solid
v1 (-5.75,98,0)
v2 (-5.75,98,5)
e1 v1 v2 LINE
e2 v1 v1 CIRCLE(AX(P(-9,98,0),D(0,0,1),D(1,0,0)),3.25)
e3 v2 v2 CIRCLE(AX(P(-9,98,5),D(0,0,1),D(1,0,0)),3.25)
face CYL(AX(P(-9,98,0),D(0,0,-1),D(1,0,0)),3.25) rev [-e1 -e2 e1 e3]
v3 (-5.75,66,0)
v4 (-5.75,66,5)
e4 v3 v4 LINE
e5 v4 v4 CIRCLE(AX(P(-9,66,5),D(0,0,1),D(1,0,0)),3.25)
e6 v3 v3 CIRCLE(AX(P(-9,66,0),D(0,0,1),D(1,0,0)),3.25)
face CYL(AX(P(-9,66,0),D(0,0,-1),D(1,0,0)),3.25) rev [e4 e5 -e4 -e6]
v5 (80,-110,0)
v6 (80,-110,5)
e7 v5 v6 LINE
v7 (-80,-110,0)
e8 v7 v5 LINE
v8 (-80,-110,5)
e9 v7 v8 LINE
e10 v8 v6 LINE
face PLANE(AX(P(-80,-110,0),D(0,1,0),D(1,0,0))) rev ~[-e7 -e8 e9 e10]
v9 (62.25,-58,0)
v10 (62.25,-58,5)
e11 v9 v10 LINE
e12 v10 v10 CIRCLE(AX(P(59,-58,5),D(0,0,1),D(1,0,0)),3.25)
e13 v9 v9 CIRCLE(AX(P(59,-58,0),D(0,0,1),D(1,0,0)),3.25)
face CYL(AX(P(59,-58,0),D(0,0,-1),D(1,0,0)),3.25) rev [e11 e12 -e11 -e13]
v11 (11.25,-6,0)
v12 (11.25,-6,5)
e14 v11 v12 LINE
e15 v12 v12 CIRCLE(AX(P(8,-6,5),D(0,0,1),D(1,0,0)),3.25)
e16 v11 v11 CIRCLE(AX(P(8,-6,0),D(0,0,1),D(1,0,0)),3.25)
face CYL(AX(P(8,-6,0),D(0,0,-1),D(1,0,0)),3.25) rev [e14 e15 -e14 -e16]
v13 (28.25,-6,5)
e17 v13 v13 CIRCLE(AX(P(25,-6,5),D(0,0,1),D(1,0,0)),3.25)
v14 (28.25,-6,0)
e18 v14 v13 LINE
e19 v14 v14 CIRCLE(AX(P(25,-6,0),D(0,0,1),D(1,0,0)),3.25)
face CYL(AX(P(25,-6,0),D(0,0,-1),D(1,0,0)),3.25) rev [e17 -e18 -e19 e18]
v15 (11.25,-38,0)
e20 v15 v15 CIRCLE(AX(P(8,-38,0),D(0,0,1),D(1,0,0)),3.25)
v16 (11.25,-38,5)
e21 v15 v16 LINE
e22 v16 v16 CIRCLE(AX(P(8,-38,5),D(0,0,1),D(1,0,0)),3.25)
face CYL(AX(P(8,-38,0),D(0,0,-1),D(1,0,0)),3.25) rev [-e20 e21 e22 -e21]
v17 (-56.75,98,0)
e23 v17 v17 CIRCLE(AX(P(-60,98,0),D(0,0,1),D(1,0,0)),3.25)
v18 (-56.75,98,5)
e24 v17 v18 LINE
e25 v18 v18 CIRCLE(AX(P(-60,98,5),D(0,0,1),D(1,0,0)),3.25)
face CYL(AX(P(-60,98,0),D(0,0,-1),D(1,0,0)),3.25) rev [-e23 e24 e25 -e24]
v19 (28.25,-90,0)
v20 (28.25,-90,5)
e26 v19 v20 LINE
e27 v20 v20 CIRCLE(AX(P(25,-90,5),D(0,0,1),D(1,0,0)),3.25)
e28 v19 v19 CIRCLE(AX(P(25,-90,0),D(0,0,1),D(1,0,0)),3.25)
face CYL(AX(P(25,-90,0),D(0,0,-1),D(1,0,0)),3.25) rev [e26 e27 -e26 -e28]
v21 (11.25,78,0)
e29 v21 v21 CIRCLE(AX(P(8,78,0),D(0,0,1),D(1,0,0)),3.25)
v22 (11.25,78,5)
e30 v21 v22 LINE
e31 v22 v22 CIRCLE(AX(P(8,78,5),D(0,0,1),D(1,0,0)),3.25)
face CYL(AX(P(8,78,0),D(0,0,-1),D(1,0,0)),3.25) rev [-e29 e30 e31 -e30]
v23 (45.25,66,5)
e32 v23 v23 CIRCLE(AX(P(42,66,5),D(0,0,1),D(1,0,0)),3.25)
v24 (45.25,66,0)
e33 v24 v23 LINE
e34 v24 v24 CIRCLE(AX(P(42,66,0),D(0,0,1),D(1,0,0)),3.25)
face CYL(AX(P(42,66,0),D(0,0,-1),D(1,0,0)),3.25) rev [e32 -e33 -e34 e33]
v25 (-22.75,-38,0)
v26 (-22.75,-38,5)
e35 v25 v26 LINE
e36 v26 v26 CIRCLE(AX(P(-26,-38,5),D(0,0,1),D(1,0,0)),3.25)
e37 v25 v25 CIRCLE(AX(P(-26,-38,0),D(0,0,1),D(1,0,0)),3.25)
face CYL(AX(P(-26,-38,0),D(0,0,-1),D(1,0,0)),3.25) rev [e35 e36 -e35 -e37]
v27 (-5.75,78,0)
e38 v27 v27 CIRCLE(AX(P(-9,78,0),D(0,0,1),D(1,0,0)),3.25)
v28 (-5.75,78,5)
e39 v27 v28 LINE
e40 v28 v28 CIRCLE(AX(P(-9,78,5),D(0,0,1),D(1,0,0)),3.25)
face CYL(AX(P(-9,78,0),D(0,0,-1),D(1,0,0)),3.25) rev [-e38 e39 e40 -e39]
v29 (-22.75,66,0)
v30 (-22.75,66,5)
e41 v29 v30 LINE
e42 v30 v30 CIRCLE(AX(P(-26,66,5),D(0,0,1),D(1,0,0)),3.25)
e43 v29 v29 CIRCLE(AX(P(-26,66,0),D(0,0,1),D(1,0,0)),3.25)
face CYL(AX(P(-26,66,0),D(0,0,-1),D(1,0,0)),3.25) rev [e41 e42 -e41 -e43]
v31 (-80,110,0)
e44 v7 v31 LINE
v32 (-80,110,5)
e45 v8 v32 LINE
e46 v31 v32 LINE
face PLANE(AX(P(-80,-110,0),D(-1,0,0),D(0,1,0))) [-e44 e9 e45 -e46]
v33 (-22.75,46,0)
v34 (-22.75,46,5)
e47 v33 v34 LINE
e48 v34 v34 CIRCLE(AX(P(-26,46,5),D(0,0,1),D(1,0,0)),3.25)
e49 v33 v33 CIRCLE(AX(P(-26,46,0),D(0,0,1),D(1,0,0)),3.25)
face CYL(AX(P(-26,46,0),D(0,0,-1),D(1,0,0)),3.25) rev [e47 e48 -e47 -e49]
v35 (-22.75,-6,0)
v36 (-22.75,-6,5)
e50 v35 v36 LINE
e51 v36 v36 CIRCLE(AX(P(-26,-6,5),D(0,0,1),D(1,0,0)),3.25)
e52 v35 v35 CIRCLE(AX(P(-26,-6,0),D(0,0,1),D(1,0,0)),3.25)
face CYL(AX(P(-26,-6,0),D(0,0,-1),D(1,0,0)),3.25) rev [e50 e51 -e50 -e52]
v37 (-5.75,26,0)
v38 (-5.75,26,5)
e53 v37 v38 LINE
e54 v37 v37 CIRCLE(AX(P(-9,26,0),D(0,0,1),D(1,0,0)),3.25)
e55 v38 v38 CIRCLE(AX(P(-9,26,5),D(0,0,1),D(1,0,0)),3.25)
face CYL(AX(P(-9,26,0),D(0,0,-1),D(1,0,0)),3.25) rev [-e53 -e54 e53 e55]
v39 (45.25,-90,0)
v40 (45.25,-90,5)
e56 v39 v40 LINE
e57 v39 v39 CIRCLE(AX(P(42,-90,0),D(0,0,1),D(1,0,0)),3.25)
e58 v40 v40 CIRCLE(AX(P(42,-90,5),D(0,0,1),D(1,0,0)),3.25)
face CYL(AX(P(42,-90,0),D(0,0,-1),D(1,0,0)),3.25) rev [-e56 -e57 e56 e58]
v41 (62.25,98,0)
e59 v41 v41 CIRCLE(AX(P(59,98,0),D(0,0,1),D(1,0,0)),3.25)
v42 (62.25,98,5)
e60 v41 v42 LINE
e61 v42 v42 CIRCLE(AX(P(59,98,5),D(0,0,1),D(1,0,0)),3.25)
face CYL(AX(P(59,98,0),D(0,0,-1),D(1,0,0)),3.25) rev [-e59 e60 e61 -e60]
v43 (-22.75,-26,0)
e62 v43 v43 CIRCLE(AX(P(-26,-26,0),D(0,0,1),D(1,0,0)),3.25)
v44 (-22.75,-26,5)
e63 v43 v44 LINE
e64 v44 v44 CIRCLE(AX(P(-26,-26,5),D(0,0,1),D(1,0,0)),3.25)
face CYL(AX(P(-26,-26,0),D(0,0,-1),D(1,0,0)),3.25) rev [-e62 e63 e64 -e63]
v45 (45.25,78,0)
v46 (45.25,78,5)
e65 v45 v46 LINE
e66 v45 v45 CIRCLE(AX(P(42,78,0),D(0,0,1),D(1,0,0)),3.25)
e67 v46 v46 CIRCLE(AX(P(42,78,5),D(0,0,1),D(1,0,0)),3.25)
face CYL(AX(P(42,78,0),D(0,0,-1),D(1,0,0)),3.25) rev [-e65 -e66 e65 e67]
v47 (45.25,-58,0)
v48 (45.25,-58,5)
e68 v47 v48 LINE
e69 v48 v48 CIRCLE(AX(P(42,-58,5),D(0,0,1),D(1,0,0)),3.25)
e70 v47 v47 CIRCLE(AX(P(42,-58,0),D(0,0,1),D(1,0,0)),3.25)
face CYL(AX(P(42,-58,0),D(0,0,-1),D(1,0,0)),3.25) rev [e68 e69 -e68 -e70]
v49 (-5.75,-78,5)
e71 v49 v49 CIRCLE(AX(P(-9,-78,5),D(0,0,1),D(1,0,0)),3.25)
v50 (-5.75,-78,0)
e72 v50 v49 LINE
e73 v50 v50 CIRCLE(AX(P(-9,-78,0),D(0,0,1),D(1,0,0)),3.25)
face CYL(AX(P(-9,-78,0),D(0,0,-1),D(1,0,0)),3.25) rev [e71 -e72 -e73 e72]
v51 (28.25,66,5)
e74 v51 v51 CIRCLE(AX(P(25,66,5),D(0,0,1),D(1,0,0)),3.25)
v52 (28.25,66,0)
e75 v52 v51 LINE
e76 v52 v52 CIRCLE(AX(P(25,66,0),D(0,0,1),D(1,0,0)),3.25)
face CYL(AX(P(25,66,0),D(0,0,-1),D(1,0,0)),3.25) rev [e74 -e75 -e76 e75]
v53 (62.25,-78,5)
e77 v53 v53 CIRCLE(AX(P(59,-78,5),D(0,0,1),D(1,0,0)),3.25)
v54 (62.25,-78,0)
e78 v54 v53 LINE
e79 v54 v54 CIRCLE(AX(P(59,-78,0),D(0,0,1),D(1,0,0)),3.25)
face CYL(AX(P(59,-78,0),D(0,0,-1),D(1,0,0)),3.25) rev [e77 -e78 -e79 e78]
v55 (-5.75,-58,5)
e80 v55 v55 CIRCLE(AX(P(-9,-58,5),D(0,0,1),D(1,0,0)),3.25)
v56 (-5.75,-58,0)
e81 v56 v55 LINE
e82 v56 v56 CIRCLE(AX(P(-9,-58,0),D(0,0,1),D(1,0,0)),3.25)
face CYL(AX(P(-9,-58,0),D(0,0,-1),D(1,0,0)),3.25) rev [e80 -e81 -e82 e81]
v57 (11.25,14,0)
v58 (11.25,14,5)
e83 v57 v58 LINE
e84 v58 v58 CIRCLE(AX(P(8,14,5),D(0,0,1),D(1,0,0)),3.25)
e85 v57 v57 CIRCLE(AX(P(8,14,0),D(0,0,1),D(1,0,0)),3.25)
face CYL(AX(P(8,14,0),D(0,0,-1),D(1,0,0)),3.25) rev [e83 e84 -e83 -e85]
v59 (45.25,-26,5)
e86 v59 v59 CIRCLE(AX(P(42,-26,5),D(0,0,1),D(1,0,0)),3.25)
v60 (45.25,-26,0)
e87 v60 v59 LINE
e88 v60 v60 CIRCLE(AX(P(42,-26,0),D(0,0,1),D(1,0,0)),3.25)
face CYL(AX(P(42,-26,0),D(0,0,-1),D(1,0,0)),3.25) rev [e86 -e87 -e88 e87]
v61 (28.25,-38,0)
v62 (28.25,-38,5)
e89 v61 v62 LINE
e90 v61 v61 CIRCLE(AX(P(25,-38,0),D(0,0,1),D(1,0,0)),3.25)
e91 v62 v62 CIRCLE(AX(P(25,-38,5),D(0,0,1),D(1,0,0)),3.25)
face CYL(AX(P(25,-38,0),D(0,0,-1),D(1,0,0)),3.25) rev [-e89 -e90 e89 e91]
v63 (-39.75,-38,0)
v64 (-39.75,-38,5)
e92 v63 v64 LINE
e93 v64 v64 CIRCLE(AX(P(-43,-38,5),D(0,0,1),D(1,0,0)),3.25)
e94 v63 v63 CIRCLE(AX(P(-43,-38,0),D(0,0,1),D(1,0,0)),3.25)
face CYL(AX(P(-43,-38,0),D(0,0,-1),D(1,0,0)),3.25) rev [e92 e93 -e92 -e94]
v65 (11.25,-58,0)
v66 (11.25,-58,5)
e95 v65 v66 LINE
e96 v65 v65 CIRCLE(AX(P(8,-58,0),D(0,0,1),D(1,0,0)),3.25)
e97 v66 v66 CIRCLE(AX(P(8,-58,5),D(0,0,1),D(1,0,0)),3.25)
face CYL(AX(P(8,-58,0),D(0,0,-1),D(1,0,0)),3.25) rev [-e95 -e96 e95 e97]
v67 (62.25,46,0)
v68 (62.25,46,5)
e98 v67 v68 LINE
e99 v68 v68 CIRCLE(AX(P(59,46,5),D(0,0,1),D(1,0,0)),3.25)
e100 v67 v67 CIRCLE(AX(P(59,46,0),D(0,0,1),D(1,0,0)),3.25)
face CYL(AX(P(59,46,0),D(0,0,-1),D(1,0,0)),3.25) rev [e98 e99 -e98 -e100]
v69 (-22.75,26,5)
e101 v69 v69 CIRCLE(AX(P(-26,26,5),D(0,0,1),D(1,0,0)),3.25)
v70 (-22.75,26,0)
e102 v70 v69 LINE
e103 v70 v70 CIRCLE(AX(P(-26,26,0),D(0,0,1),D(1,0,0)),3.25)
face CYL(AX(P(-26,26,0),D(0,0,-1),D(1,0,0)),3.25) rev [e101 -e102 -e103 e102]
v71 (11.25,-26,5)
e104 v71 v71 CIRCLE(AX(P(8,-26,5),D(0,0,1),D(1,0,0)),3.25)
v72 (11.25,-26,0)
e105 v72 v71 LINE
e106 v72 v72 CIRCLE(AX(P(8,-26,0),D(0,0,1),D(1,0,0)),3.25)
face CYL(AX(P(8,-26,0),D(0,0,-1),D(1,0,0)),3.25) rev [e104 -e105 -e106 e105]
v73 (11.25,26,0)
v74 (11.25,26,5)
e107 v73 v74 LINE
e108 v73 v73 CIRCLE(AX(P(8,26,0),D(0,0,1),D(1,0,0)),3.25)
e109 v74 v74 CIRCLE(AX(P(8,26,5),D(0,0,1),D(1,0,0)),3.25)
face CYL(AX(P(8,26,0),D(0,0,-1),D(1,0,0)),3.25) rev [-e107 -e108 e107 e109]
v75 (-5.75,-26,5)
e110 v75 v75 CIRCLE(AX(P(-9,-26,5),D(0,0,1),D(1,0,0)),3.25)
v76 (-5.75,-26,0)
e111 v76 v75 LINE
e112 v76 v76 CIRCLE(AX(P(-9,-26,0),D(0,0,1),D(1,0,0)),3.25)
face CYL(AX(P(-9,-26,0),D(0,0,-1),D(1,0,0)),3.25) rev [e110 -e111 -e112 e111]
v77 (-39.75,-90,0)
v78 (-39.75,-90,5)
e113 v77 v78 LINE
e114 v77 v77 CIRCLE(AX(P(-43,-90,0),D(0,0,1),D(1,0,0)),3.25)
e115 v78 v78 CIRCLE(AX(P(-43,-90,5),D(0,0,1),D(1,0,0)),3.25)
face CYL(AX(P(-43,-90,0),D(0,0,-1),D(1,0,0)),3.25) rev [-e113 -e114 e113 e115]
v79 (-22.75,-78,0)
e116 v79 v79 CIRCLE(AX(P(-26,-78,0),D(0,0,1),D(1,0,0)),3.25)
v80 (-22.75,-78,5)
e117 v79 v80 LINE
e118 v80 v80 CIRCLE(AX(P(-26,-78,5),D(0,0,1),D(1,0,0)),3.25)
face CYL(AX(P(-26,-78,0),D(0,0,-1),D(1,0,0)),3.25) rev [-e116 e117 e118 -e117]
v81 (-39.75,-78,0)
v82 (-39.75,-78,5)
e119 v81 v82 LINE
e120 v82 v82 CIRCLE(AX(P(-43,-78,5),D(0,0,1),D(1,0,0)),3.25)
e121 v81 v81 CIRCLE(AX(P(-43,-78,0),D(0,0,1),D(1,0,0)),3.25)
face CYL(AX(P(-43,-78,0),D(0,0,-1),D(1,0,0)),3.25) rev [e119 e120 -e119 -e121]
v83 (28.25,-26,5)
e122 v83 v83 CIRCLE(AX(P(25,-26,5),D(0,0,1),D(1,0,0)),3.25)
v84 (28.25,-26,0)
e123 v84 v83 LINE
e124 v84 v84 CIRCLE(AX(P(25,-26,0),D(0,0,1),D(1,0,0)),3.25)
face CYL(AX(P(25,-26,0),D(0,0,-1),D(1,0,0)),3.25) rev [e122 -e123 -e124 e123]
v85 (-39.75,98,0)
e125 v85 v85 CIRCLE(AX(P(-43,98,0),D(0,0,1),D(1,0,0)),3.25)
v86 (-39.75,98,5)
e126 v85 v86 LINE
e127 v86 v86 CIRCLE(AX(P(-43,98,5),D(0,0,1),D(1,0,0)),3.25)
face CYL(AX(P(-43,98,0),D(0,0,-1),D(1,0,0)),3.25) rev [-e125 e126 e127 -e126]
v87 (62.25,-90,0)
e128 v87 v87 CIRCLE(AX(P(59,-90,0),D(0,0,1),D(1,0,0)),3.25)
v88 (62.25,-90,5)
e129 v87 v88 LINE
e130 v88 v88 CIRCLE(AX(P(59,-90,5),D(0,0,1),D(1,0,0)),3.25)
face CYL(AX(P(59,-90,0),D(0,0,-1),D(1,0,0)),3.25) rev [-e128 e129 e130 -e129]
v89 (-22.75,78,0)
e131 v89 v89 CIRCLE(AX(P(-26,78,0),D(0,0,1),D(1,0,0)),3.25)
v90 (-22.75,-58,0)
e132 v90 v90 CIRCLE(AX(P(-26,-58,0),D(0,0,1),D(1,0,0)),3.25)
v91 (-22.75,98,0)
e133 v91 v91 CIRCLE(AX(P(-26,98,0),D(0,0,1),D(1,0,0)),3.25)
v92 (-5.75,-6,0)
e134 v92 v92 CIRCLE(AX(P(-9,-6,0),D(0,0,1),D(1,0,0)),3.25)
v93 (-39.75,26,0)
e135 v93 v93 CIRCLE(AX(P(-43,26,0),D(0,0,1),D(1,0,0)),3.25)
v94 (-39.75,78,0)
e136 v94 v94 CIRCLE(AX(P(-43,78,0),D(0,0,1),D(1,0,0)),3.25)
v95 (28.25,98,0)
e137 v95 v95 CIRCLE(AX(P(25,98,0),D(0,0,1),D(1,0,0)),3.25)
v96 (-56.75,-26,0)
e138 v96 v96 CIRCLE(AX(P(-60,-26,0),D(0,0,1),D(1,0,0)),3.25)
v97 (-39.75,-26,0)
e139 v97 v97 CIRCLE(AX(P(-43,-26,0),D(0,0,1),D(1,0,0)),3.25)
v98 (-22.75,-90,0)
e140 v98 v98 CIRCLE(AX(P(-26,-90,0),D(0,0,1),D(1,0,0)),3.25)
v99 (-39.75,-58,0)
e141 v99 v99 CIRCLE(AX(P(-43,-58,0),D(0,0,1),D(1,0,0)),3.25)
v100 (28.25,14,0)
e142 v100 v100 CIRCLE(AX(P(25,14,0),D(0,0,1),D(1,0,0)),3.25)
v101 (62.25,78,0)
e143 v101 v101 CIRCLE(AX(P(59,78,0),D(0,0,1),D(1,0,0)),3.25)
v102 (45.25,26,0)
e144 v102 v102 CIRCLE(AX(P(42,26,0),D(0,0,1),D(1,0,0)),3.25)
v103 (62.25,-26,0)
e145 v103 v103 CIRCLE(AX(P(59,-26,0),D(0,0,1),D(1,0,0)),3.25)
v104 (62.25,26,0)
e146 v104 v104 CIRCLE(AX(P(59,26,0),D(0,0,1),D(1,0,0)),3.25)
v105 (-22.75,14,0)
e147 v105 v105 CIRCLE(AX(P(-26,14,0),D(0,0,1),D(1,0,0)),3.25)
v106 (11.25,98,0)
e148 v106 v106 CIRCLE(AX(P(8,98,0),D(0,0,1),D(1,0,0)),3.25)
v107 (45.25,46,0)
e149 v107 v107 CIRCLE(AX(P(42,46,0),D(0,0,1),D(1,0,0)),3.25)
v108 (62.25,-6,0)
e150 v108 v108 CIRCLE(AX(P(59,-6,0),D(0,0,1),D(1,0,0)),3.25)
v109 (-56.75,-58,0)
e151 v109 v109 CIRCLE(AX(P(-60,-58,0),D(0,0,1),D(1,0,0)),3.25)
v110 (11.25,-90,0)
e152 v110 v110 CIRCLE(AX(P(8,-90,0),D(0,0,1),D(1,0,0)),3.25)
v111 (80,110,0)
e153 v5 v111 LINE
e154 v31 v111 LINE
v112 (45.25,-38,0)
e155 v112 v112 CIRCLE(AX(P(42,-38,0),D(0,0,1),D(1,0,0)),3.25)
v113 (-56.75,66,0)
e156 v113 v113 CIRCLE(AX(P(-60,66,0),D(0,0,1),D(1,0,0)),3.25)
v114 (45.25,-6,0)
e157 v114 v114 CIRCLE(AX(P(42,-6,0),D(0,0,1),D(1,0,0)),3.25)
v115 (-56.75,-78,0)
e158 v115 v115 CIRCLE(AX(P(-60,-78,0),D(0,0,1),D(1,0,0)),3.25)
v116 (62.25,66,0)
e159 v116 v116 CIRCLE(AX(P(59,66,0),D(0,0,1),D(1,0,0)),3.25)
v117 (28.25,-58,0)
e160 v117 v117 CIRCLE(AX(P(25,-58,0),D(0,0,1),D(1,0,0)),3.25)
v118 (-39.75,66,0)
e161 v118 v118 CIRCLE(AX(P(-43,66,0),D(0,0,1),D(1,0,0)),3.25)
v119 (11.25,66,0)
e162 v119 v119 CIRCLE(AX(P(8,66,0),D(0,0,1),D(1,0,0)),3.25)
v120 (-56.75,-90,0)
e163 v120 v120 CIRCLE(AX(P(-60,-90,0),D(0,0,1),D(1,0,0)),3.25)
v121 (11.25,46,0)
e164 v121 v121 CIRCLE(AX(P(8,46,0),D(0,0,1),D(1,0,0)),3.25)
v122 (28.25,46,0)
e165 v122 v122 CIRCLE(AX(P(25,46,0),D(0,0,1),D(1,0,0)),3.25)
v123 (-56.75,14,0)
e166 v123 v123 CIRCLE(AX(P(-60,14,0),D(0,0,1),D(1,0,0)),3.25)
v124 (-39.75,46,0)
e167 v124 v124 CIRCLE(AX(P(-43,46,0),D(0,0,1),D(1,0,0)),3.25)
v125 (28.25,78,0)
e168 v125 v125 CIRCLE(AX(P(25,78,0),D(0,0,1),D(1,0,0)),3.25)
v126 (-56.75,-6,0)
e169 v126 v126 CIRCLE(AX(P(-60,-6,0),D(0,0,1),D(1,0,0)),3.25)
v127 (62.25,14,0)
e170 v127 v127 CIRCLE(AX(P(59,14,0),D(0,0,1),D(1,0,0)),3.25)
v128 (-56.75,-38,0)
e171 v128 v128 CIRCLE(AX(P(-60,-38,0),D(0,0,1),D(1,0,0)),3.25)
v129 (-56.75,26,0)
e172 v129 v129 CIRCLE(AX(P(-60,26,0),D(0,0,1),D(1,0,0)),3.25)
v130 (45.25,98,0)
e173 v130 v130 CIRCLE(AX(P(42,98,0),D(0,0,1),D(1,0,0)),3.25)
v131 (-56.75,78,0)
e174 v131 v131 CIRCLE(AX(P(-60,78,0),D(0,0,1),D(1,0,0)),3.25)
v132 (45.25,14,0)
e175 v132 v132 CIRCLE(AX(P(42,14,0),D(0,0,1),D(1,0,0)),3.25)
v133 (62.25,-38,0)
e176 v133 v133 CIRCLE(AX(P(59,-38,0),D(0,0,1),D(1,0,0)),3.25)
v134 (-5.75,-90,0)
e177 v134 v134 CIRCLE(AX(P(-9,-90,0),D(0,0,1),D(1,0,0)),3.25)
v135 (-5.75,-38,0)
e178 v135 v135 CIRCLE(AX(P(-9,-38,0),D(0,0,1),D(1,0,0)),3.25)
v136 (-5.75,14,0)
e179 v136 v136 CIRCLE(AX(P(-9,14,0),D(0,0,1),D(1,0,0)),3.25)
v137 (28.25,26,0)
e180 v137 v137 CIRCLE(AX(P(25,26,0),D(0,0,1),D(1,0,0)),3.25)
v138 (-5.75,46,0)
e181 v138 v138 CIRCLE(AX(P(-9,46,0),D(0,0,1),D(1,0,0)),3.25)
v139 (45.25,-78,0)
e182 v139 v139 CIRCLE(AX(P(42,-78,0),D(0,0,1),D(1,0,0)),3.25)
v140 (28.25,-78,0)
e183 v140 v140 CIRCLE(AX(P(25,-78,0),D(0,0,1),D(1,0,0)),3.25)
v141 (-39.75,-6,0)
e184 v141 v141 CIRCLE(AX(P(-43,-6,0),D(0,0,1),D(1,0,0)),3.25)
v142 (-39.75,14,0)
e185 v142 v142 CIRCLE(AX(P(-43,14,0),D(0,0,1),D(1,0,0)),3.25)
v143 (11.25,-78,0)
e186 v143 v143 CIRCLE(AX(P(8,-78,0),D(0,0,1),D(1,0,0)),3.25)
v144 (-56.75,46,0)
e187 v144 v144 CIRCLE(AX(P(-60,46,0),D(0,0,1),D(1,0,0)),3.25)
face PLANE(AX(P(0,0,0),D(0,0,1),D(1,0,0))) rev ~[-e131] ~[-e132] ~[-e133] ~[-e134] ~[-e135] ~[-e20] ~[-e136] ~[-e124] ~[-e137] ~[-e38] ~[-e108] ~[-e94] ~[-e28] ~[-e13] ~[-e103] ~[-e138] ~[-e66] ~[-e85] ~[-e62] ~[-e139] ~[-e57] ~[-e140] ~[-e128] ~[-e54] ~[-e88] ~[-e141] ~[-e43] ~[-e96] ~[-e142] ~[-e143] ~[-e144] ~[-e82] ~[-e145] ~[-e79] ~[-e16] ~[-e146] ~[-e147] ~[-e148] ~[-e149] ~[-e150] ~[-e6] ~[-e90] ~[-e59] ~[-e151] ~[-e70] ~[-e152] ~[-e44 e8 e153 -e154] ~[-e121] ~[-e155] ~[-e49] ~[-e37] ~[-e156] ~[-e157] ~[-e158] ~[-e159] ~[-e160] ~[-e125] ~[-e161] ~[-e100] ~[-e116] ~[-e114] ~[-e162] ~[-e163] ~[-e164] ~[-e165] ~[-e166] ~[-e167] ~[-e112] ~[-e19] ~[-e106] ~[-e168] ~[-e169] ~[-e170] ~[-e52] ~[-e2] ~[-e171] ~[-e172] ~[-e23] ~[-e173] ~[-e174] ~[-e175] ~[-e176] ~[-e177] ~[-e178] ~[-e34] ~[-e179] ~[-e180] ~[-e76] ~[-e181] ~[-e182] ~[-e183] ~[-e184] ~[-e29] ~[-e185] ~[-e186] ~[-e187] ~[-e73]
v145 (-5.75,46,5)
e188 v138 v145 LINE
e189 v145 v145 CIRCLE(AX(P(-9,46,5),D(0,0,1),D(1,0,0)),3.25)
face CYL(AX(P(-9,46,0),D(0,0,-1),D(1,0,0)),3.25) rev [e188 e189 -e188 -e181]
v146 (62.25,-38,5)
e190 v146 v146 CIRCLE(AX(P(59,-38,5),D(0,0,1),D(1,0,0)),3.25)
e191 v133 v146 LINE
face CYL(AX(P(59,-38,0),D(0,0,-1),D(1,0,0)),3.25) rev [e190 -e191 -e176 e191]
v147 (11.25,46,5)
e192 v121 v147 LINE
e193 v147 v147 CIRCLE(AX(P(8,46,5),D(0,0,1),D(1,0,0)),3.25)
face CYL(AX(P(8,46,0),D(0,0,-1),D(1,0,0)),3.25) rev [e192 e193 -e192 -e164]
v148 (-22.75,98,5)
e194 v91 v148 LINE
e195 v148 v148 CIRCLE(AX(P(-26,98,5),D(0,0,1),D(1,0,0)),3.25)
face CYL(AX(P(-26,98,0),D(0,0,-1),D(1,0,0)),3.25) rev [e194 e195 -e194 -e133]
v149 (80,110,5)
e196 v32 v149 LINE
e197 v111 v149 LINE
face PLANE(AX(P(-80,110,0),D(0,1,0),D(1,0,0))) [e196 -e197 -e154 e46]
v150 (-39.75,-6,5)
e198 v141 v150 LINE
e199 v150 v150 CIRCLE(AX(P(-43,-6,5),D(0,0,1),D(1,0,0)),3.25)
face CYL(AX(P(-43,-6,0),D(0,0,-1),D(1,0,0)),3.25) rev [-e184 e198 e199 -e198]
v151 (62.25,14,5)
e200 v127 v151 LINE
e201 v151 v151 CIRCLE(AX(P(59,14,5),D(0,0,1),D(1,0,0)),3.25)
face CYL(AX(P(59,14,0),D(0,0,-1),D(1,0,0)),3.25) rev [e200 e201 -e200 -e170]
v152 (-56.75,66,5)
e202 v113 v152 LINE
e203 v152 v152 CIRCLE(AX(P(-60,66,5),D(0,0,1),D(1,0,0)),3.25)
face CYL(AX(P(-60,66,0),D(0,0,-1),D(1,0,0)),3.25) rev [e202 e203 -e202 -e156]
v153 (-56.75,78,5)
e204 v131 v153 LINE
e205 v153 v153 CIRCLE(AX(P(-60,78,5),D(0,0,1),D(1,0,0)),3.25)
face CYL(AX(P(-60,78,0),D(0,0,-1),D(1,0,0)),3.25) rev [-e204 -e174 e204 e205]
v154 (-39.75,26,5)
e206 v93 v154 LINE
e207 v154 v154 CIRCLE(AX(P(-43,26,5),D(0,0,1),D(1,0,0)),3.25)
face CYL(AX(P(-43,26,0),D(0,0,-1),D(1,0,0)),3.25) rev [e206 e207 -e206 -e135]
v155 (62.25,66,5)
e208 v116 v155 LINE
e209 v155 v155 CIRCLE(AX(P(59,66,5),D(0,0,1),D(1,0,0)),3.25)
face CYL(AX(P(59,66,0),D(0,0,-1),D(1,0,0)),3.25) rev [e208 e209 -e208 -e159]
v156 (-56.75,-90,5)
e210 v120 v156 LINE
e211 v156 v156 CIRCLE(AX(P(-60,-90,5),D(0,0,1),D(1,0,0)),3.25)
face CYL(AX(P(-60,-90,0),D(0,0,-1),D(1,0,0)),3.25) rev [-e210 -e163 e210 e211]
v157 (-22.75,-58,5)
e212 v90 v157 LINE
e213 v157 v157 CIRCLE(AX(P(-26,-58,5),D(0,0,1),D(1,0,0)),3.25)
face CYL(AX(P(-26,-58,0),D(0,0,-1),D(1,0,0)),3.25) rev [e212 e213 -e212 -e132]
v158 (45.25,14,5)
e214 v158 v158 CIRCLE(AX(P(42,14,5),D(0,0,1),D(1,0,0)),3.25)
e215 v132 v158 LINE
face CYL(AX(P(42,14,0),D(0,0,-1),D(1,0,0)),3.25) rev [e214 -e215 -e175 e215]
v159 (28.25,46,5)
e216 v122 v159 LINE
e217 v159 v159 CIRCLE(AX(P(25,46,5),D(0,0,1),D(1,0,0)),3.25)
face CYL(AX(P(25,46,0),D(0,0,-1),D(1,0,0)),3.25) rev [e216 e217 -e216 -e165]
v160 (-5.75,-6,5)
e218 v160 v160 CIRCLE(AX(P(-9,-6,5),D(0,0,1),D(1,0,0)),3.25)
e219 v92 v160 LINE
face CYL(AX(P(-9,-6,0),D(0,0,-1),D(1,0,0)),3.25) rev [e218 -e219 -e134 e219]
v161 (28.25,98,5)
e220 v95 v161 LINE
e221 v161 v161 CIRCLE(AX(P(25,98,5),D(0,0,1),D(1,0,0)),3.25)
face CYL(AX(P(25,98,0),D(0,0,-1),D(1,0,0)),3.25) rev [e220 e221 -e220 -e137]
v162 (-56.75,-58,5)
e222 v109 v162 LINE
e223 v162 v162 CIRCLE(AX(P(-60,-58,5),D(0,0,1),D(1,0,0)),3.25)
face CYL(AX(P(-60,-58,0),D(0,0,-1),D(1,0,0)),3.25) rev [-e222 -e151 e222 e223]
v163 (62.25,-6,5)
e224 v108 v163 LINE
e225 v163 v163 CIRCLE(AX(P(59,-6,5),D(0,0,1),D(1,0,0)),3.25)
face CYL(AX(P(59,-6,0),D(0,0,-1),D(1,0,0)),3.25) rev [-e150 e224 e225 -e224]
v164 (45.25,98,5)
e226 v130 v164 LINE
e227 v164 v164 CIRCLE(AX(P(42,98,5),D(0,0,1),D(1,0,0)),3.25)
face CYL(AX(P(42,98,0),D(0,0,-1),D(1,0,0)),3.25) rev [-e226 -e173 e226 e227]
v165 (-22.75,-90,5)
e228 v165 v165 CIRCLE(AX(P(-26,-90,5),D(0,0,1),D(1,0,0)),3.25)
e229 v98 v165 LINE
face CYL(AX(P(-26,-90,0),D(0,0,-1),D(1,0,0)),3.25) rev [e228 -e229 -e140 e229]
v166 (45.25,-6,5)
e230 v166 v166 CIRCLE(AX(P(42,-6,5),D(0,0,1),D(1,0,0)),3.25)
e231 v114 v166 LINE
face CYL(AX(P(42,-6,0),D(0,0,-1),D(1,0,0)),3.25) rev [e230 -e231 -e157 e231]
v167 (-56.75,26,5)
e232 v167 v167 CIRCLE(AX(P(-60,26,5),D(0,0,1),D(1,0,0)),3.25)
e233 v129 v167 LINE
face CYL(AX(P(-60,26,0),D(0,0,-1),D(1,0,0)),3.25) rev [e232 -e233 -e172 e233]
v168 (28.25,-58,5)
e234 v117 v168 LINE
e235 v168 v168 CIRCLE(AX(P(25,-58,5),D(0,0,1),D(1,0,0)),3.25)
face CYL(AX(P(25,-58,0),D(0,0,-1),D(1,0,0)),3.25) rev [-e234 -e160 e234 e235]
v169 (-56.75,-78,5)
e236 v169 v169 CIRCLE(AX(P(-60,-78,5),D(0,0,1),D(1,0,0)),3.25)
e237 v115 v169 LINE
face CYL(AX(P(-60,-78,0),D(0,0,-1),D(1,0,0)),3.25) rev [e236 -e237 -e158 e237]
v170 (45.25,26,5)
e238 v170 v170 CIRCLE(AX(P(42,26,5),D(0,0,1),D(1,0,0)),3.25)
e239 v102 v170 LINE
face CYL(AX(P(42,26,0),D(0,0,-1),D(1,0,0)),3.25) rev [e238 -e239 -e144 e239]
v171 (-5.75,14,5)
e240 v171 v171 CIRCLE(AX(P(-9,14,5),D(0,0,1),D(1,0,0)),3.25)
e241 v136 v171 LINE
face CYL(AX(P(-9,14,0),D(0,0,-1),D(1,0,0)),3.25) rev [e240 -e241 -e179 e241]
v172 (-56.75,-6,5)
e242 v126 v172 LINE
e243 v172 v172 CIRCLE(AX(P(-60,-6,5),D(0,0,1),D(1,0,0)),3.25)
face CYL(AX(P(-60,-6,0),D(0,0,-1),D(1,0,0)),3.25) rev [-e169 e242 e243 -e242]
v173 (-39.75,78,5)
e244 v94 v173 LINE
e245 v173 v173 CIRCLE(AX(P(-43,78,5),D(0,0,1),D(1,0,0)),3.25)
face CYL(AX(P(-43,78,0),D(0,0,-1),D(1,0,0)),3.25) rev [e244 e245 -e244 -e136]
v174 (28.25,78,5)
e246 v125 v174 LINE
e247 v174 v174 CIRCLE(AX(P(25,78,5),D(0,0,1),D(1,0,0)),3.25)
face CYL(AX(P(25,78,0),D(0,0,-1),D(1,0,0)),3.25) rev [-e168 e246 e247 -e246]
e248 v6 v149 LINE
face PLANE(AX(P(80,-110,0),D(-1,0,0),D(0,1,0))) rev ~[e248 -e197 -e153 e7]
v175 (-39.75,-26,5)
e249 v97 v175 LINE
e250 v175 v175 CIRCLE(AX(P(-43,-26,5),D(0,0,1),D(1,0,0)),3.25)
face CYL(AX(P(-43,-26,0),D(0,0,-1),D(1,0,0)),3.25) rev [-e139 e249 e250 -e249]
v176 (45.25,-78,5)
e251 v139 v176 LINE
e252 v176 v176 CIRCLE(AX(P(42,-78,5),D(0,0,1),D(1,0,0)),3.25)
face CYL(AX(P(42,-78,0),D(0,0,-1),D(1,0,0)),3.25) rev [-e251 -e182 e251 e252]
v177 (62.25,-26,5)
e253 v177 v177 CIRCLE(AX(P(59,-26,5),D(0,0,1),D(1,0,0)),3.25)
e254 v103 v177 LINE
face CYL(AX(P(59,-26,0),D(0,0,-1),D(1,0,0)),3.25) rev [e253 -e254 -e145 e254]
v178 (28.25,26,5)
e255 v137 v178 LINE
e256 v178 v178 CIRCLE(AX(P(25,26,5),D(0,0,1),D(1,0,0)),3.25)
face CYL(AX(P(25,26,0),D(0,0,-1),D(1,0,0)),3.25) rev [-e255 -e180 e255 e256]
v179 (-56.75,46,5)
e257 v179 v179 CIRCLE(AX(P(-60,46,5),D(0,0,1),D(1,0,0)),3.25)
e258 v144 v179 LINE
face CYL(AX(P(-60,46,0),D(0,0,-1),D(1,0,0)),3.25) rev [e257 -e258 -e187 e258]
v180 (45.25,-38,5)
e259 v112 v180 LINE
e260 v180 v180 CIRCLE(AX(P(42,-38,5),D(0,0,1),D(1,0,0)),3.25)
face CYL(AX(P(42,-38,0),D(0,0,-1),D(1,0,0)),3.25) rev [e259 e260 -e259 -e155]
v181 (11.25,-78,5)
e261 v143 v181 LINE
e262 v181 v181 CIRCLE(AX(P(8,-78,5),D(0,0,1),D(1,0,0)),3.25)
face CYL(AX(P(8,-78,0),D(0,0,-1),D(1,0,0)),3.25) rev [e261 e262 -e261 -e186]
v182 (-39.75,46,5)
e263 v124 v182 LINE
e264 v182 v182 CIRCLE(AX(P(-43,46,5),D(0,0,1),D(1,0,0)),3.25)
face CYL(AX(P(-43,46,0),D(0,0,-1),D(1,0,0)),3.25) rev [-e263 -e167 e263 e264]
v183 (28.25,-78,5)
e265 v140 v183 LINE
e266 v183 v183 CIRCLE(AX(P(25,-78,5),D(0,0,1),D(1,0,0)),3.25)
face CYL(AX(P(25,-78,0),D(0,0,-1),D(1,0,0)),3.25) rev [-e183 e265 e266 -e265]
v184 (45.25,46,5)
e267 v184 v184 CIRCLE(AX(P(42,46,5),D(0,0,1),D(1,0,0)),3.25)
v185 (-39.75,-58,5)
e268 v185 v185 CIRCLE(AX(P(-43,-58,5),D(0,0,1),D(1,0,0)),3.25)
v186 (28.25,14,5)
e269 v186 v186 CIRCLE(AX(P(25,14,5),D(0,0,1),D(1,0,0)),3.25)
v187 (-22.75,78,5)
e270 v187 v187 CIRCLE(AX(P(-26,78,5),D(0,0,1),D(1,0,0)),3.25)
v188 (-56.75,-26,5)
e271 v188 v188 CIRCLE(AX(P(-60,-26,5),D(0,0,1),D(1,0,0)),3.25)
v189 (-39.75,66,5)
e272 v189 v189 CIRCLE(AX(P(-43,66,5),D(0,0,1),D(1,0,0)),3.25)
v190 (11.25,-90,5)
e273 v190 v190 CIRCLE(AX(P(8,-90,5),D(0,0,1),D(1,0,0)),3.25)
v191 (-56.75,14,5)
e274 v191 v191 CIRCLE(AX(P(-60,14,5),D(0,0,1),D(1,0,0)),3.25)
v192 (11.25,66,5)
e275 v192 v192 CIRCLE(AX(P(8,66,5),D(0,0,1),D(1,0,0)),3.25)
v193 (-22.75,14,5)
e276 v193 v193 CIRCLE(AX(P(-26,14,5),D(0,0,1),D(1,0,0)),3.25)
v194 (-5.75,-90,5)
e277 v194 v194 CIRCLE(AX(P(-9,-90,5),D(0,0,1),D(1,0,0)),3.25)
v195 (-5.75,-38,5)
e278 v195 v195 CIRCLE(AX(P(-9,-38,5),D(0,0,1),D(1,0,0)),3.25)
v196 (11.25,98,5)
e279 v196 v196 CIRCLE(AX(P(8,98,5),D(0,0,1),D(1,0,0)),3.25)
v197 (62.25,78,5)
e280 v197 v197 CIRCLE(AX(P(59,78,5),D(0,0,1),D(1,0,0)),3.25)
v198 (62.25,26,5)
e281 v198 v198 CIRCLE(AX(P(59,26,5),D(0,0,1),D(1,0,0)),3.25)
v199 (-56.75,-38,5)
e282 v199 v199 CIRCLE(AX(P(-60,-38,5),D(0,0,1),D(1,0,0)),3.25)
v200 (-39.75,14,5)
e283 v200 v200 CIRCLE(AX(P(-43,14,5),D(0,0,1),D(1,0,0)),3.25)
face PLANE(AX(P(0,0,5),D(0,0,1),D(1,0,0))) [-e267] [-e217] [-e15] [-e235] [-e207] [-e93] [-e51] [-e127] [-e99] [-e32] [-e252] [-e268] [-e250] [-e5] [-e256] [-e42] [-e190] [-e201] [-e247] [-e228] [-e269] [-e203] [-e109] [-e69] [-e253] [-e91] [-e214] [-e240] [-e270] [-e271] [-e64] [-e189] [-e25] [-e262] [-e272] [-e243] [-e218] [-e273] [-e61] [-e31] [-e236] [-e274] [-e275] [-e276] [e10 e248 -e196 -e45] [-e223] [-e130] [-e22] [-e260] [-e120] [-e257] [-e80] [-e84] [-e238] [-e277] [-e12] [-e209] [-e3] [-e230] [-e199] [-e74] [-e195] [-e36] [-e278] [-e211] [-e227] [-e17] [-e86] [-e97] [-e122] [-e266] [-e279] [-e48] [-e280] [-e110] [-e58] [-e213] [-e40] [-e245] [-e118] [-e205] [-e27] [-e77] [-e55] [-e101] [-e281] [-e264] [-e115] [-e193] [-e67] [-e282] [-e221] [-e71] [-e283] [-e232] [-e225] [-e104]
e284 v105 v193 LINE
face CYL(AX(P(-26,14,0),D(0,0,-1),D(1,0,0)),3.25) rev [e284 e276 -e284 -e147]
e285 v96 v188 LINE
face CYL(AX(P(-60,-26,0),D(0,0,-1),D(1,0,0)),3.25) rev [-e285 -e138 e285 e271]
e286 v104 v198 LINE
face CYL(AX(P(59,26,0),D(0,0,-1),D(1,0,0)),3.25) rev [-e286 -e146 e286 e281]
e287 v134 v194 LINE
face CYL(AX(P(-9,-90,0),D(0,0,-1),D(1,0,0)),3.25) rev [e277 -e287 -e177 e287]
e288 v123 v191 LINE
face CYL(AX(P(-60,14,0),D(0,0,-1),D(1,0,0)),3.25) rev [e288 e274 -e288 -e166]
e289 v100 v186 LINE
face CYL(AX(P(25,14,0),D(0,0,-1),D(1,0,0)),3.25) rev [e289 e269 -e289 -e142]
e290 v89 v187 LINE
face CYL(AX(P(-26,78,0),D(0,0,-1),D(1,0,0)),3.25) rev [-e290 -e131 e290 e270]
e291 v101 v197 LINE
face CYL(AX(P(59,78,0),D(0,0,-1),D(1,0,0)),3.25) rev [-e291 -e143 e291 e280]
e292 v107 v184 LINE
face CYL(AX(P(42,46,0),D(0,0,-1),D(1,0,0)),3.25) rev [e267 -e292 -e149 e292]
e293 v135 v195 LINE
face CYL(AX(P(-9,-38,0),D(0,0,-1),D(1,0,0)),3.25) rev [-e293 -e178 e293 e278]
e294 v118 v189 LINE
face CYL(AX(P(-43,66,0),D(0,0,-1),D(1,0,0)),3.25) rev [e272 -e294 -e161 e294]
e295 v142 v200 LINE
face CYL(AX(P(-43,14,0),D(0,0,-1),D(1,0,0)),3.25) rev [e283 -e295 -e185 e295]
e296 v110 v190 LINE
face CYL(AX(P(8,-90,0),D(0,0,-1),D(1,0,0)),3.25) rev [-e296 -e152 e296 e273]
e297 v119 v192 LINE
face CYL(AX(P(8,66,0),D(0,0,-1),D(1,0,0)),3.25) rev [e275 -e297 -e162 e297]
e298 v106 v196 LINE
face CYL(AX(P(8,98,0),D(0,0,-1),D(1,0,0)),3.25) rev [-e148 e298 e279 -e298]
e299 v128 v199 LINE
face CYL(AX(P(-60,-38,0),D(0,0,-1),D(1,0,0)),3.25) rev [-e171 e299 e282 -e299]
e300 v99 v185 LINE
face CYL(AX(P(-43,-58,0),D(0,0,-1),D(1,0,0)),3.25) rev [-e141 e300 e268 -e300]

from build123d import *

# Parameters (mm, degrees)
F0_W     = 160
F0_H     = 220
F0_R     = 3.25
F1_DEPTH = 5


with BuildPart() as f1:
    # F0 (on Top) → F1 (new body)
    with BuildSketch(Plane.XY):
        Rectangle(F0_W, F0_H)
        with Locations((-60, -90)):
            Circle(F0_R, mode=Mode.SUBTRACT)
        with Locations((-43, -90)):
            Circle(F0_R, mode=Mode.SUBTRACT)
        with Locations((-60, -78)):
            Circle(F0_R, mode=Mode.SUBTRACT)
        with Locations((-43, -78)):
            Circle(F0_R, mode=Mode.SUBTRACT)
        with Locations((-60, -58)):
            Circle(F0_R, mode=Mode.SUBTRACT)
        with Locations((-43, -58)):
            Circle(F0_R, mode=Mode.SUBTRACT)
        with Locations((-26, -90)):
            Circle(F0_R, mode=Mode.SUBTRACT)
        with Locations((-9, -90)):
            Circle(F0_R, mode=Mode.SUBTRACT)
        with Locations((-26, -78)):
            Circle(F0_R, mode=Mode.SUBTRACT)
        with Locations((-26, -58)):
            Circle(F0_R, mode=Mode.SUBTRACT)
        with Locations((-9, -78)):
            Circle(F0_R, mode=Mode.SUBTRACT)
        with Locations((-9, -58)):
            Circle(F0_R, mode=Mode.SUBTRACT)
        with Locations((-60, -38)):
            Circle(F0_R, mode=Mode.SUBTRACT)
        with Locations((-43, -38)):
            Circle(F0_R, mode=Mode.SUBTRACT)
        with Locations((-60, -26)):
            Circle(F0_R, mode=Mode.SUBTRACT)
        with Locations((-43, -26)):
            Circle(F0_R, mode=Mode.SUBTRACT)
        with Locations((-60, -6)):
            Circle(F0_R, mode=Mode.SUBTRACT)
        with Locations((-43, -6)):
            Circle(F0_R, mode=Mode.SUBTRACT)
        with Locations((-26, -38)):
            Circle(F0_R, mode=Mode.SUBTRACT)
        with Locations((-9, -38)):
            Circle(F0_R, mode=Mode.SUBTRACT)
        with Locations((-26, -26)):
            Circle(F0_R, mode=Mode.SUBTRACT)
        with Locations((-26, -6)):
            Circle(F0_R, mode=Mode.SUBTRACT)
        with Locations((-9, -26)):
            Circle(F0_R, mode=Mode.SUBTRACT)
        with Locations((-9, -6)):
            Circle(F0_R, mode=Mode.SUBTRACT)
        with Locations((8, -90)):
            Circle(F0_R, mode=Mode.SUBTRACT)
        with Locations((25, -90)):
            Circle(F0_R, mode=Mode.SUBTRACT)
        with Locations((8, -78)):
            Circle(F0_R, mode=Mode.SUBTRACT)
        with Locations((8, -58)):
            Circle(F0_R, mode=Mode.SUBTRACT)
        with Locations((25, -78)):
            Circle(F0_R, mode=Mode.SUBTRACT)
        with Locations((25, -58)):
            Circle(F0_R, mode=Mode.SUBTRACT)
        with Locations((42, -90)):
            Circle(F0_R, mode=Mode.SUBTRACT)
        with Locations((59, -90)):
            Circle(F0_R, mode=Mode.SUBTRACT)
        with Locations((42, -78)):
            Circle(F0_R, mode=Mode.SUBTRACT)
        with Locations((59, -78)):
            Circle(F0_R, mode=Mode.SUBTRACT)
        with Locations((42, -58)):
            Circle(F0_R, mode=Mode.SUBTRACT)
        with Locations((59, -58)):
            Circle(F0_R, mode=Mode.SUBTRACT)
        with Locations((8, -38)):
            Circle(F0_R, mode=Mode.SUBTRACT)
        with Locations((25, -38)):
            Circle(F0_R, mode=Mode.SUBTRACT)
        with Locations((8, -26)):
            Circle(F0_R, mode=Mode.SUBTRACT)
        with Locations((8, -6)):
            Circle(F0_R, mode=Mode.SUBTRACT)
        with Locations((25, -26)):
            Circle(F0_R, mode=Mode.SUBTRACT)
        with Locations((25, -6)):
            Circle(F0_R, mode=Mode.SUBTRACT)
        with Locations((42, -38)):
            Circle(F0_R, mode=Mode.SUBTRACT)
        with Locations((59, -38)):
            Circle(F0_R, mode=Mode.SUBTRACT)
        with Locations((42, -26)):
            Circle(F0_R, mode=Mode.SUBTRACT)
        with Locations((59, -26)):
            Circle(F0_R, mode=Mode.SUBTRACT)
        with Locations((42, -6)):
            Circle(F0_R, mode=Mode.SUBTRACT)
        with Locations((59, -6)):
            Circle(F0_R, mode=Mode.SUBTRACT)
        with Locations((-60, 14)):
            Circle(F0_R, mode=Mode.SUBTRACT)
        with Locations((-60, 26)):
            Circle(F0_R, mode=Mode.SUBTRACT)
        with Locations((-43, 14)):
            Circle(F0_R, mode=Mode.SUBTRACT)
        with Locations((-43, 26)):
            Circle(F0_R, mode=Mode.SUBTRACT)
        with Locations((-60, 46)):
            Circle(F0_R, mode=Mode.SUBTRACT)
        with Locations((-43, 46)):
            Circle(F0_R, mode=Mode.SUBTRACT)
        with Locations((-26, 14)):
            Circle(F0_R, mode=Mode.SUBTRACT)
        with Locations((-26, 26)):
            Circle(F0_R, mode=Mode.SUBTRACT)
        with Locations((-9, 14)):
            Circle(F0_R, mode=Mode.SUBTRACT)
        with Locations((-9, 26)):
            Circle(F0_R, mode=Mode.SUBTRACT)
        with Locations((-26, 46)):
            Circle(F0_R, mode=Mode.SUBTRACT)
        with Locations((-9, 46)):
            Circle(F0_R, mode=Mode.SUBTRACT)
        with Locations((-60, 66)):
            Circle(F0_R, mode=Mode.SUBTRACT)
        with Locations((-43, 66)):
            Circle(F0_R, mode=Mode.SUBTRACT)
        with Locations((-60, 78)):
            Circle(F0_R, mode=Mode.SUBTRACT)
        with Locations((-43, 78)):
            Circle(F0_R, mode=Mode.SUBTRACT)
        with Locations((-60, 98)):
            Circle(F0_R, mode=Mode.SUBTRACT)
        with Locations((-43, 98)):
            Circle(F0_R, mode=Mode.SUBTRACT)
        with Locations((-26, 66)):
            Circle(F0_R, mode=Mode.SUBTRACT)
        with Locations((-26, 78)):
            Circle(F0_R, mode=Mode.SUBTRACT)
        with Locations((-9, 66)):
            Circle(F0_R, mode=Mode.SUBTRACT)
        with Locations((-9, 78)):
            Circle(F0_R, mode=Mode.SUBTRACT)
        with Locations((-26, 98)):
            Circle(F0_R, mode=Mode.SUBTRACT)
        with Locations((-9, 98)):
            Circle(F0_R, mode=Mode.SUBTRACT)
        with Locations((8, 14)):
            Circle(F0_R, mode=Mode.SUBTRACT)
        with Locations((8, 26)):
            Circle(F0_R, mode=Mode.SUBTRACT)
        with Locations((25, 14)):
            Circle(F0_R, mode=Mode.SUBTRACT)
        with Locations((25, 26)):
            Circle(F0_R, mode=Mode.SUBTRACT)
        with Locations((8, 46)):
            Circle(F0_R, mode=Mode.SUBTRACT)
        with Locations((25, 46)):
            Circle(F0_R, mode=Mode.SUBTRACT)
        with Locations((42, 14)):
            Circle(F0_R, mode=Mode.SUBTRACT)
        with Locations((42, 26)):
            Circle(F0_R, mode=Mode.SUBTRACT)
        with Locations((59, 14)):
            Circle(F0_R, mode=Mode.SUBTRACT)
        with Locations((59, 26)):
            Circle(F0_R, mode=Mode.SUBTRACT)
        with Locations((42, 46)):
            Circle(F0_R, mode=Mode.SUBTRACT)
        with Locations((59, 46)):
            Circle(F0_R, mode=Mode.SUBTRACT)
        with Locations((8, 66)):
            Circle(F0_R, mode=Mode.SUBTRACT)
        with Locations((8, 78)):
            Circle(F0_R, mode=Mode.SUBTRACT)
        with Locations((25, 66)):
            Circle(F0_R, mode=Mode.SUBTRACT)
        with Locations((25, 78)):
            Circle(F0_R, mode=Mode.SUBTRACT)
        with Locations((8, 98)):
            Circle(F0_R, mode=Mode.SUBTRACT)
        with Locations((25, 98)):
            Circle(F0_R, mode=Mode.SUBTRACT)
        with Locations((42, 66)):
            Circle(F0_R, mode=Mode.SUBTRACT)
        with Locations((59, 66)):
            Circle(F0_R, mode=Mode.SUBTRACT)
        with Locations((42, 78)):
            Circle(F0_R, mode=Mode.SUBTRACT)
        with Locations((59, 78)):
            Circle(F0_R, mode=Mode.SUBTRACT)
        with Locations((42, 98)):
            Circle(F0_R, mode=Mode.SUBTRACT)
        with Locations((59, 98)):
            Circle(F0_R, mode=Mode.SUBTRACT)
    extrude(amount=F1_DEPTH)


solid = f1.part
